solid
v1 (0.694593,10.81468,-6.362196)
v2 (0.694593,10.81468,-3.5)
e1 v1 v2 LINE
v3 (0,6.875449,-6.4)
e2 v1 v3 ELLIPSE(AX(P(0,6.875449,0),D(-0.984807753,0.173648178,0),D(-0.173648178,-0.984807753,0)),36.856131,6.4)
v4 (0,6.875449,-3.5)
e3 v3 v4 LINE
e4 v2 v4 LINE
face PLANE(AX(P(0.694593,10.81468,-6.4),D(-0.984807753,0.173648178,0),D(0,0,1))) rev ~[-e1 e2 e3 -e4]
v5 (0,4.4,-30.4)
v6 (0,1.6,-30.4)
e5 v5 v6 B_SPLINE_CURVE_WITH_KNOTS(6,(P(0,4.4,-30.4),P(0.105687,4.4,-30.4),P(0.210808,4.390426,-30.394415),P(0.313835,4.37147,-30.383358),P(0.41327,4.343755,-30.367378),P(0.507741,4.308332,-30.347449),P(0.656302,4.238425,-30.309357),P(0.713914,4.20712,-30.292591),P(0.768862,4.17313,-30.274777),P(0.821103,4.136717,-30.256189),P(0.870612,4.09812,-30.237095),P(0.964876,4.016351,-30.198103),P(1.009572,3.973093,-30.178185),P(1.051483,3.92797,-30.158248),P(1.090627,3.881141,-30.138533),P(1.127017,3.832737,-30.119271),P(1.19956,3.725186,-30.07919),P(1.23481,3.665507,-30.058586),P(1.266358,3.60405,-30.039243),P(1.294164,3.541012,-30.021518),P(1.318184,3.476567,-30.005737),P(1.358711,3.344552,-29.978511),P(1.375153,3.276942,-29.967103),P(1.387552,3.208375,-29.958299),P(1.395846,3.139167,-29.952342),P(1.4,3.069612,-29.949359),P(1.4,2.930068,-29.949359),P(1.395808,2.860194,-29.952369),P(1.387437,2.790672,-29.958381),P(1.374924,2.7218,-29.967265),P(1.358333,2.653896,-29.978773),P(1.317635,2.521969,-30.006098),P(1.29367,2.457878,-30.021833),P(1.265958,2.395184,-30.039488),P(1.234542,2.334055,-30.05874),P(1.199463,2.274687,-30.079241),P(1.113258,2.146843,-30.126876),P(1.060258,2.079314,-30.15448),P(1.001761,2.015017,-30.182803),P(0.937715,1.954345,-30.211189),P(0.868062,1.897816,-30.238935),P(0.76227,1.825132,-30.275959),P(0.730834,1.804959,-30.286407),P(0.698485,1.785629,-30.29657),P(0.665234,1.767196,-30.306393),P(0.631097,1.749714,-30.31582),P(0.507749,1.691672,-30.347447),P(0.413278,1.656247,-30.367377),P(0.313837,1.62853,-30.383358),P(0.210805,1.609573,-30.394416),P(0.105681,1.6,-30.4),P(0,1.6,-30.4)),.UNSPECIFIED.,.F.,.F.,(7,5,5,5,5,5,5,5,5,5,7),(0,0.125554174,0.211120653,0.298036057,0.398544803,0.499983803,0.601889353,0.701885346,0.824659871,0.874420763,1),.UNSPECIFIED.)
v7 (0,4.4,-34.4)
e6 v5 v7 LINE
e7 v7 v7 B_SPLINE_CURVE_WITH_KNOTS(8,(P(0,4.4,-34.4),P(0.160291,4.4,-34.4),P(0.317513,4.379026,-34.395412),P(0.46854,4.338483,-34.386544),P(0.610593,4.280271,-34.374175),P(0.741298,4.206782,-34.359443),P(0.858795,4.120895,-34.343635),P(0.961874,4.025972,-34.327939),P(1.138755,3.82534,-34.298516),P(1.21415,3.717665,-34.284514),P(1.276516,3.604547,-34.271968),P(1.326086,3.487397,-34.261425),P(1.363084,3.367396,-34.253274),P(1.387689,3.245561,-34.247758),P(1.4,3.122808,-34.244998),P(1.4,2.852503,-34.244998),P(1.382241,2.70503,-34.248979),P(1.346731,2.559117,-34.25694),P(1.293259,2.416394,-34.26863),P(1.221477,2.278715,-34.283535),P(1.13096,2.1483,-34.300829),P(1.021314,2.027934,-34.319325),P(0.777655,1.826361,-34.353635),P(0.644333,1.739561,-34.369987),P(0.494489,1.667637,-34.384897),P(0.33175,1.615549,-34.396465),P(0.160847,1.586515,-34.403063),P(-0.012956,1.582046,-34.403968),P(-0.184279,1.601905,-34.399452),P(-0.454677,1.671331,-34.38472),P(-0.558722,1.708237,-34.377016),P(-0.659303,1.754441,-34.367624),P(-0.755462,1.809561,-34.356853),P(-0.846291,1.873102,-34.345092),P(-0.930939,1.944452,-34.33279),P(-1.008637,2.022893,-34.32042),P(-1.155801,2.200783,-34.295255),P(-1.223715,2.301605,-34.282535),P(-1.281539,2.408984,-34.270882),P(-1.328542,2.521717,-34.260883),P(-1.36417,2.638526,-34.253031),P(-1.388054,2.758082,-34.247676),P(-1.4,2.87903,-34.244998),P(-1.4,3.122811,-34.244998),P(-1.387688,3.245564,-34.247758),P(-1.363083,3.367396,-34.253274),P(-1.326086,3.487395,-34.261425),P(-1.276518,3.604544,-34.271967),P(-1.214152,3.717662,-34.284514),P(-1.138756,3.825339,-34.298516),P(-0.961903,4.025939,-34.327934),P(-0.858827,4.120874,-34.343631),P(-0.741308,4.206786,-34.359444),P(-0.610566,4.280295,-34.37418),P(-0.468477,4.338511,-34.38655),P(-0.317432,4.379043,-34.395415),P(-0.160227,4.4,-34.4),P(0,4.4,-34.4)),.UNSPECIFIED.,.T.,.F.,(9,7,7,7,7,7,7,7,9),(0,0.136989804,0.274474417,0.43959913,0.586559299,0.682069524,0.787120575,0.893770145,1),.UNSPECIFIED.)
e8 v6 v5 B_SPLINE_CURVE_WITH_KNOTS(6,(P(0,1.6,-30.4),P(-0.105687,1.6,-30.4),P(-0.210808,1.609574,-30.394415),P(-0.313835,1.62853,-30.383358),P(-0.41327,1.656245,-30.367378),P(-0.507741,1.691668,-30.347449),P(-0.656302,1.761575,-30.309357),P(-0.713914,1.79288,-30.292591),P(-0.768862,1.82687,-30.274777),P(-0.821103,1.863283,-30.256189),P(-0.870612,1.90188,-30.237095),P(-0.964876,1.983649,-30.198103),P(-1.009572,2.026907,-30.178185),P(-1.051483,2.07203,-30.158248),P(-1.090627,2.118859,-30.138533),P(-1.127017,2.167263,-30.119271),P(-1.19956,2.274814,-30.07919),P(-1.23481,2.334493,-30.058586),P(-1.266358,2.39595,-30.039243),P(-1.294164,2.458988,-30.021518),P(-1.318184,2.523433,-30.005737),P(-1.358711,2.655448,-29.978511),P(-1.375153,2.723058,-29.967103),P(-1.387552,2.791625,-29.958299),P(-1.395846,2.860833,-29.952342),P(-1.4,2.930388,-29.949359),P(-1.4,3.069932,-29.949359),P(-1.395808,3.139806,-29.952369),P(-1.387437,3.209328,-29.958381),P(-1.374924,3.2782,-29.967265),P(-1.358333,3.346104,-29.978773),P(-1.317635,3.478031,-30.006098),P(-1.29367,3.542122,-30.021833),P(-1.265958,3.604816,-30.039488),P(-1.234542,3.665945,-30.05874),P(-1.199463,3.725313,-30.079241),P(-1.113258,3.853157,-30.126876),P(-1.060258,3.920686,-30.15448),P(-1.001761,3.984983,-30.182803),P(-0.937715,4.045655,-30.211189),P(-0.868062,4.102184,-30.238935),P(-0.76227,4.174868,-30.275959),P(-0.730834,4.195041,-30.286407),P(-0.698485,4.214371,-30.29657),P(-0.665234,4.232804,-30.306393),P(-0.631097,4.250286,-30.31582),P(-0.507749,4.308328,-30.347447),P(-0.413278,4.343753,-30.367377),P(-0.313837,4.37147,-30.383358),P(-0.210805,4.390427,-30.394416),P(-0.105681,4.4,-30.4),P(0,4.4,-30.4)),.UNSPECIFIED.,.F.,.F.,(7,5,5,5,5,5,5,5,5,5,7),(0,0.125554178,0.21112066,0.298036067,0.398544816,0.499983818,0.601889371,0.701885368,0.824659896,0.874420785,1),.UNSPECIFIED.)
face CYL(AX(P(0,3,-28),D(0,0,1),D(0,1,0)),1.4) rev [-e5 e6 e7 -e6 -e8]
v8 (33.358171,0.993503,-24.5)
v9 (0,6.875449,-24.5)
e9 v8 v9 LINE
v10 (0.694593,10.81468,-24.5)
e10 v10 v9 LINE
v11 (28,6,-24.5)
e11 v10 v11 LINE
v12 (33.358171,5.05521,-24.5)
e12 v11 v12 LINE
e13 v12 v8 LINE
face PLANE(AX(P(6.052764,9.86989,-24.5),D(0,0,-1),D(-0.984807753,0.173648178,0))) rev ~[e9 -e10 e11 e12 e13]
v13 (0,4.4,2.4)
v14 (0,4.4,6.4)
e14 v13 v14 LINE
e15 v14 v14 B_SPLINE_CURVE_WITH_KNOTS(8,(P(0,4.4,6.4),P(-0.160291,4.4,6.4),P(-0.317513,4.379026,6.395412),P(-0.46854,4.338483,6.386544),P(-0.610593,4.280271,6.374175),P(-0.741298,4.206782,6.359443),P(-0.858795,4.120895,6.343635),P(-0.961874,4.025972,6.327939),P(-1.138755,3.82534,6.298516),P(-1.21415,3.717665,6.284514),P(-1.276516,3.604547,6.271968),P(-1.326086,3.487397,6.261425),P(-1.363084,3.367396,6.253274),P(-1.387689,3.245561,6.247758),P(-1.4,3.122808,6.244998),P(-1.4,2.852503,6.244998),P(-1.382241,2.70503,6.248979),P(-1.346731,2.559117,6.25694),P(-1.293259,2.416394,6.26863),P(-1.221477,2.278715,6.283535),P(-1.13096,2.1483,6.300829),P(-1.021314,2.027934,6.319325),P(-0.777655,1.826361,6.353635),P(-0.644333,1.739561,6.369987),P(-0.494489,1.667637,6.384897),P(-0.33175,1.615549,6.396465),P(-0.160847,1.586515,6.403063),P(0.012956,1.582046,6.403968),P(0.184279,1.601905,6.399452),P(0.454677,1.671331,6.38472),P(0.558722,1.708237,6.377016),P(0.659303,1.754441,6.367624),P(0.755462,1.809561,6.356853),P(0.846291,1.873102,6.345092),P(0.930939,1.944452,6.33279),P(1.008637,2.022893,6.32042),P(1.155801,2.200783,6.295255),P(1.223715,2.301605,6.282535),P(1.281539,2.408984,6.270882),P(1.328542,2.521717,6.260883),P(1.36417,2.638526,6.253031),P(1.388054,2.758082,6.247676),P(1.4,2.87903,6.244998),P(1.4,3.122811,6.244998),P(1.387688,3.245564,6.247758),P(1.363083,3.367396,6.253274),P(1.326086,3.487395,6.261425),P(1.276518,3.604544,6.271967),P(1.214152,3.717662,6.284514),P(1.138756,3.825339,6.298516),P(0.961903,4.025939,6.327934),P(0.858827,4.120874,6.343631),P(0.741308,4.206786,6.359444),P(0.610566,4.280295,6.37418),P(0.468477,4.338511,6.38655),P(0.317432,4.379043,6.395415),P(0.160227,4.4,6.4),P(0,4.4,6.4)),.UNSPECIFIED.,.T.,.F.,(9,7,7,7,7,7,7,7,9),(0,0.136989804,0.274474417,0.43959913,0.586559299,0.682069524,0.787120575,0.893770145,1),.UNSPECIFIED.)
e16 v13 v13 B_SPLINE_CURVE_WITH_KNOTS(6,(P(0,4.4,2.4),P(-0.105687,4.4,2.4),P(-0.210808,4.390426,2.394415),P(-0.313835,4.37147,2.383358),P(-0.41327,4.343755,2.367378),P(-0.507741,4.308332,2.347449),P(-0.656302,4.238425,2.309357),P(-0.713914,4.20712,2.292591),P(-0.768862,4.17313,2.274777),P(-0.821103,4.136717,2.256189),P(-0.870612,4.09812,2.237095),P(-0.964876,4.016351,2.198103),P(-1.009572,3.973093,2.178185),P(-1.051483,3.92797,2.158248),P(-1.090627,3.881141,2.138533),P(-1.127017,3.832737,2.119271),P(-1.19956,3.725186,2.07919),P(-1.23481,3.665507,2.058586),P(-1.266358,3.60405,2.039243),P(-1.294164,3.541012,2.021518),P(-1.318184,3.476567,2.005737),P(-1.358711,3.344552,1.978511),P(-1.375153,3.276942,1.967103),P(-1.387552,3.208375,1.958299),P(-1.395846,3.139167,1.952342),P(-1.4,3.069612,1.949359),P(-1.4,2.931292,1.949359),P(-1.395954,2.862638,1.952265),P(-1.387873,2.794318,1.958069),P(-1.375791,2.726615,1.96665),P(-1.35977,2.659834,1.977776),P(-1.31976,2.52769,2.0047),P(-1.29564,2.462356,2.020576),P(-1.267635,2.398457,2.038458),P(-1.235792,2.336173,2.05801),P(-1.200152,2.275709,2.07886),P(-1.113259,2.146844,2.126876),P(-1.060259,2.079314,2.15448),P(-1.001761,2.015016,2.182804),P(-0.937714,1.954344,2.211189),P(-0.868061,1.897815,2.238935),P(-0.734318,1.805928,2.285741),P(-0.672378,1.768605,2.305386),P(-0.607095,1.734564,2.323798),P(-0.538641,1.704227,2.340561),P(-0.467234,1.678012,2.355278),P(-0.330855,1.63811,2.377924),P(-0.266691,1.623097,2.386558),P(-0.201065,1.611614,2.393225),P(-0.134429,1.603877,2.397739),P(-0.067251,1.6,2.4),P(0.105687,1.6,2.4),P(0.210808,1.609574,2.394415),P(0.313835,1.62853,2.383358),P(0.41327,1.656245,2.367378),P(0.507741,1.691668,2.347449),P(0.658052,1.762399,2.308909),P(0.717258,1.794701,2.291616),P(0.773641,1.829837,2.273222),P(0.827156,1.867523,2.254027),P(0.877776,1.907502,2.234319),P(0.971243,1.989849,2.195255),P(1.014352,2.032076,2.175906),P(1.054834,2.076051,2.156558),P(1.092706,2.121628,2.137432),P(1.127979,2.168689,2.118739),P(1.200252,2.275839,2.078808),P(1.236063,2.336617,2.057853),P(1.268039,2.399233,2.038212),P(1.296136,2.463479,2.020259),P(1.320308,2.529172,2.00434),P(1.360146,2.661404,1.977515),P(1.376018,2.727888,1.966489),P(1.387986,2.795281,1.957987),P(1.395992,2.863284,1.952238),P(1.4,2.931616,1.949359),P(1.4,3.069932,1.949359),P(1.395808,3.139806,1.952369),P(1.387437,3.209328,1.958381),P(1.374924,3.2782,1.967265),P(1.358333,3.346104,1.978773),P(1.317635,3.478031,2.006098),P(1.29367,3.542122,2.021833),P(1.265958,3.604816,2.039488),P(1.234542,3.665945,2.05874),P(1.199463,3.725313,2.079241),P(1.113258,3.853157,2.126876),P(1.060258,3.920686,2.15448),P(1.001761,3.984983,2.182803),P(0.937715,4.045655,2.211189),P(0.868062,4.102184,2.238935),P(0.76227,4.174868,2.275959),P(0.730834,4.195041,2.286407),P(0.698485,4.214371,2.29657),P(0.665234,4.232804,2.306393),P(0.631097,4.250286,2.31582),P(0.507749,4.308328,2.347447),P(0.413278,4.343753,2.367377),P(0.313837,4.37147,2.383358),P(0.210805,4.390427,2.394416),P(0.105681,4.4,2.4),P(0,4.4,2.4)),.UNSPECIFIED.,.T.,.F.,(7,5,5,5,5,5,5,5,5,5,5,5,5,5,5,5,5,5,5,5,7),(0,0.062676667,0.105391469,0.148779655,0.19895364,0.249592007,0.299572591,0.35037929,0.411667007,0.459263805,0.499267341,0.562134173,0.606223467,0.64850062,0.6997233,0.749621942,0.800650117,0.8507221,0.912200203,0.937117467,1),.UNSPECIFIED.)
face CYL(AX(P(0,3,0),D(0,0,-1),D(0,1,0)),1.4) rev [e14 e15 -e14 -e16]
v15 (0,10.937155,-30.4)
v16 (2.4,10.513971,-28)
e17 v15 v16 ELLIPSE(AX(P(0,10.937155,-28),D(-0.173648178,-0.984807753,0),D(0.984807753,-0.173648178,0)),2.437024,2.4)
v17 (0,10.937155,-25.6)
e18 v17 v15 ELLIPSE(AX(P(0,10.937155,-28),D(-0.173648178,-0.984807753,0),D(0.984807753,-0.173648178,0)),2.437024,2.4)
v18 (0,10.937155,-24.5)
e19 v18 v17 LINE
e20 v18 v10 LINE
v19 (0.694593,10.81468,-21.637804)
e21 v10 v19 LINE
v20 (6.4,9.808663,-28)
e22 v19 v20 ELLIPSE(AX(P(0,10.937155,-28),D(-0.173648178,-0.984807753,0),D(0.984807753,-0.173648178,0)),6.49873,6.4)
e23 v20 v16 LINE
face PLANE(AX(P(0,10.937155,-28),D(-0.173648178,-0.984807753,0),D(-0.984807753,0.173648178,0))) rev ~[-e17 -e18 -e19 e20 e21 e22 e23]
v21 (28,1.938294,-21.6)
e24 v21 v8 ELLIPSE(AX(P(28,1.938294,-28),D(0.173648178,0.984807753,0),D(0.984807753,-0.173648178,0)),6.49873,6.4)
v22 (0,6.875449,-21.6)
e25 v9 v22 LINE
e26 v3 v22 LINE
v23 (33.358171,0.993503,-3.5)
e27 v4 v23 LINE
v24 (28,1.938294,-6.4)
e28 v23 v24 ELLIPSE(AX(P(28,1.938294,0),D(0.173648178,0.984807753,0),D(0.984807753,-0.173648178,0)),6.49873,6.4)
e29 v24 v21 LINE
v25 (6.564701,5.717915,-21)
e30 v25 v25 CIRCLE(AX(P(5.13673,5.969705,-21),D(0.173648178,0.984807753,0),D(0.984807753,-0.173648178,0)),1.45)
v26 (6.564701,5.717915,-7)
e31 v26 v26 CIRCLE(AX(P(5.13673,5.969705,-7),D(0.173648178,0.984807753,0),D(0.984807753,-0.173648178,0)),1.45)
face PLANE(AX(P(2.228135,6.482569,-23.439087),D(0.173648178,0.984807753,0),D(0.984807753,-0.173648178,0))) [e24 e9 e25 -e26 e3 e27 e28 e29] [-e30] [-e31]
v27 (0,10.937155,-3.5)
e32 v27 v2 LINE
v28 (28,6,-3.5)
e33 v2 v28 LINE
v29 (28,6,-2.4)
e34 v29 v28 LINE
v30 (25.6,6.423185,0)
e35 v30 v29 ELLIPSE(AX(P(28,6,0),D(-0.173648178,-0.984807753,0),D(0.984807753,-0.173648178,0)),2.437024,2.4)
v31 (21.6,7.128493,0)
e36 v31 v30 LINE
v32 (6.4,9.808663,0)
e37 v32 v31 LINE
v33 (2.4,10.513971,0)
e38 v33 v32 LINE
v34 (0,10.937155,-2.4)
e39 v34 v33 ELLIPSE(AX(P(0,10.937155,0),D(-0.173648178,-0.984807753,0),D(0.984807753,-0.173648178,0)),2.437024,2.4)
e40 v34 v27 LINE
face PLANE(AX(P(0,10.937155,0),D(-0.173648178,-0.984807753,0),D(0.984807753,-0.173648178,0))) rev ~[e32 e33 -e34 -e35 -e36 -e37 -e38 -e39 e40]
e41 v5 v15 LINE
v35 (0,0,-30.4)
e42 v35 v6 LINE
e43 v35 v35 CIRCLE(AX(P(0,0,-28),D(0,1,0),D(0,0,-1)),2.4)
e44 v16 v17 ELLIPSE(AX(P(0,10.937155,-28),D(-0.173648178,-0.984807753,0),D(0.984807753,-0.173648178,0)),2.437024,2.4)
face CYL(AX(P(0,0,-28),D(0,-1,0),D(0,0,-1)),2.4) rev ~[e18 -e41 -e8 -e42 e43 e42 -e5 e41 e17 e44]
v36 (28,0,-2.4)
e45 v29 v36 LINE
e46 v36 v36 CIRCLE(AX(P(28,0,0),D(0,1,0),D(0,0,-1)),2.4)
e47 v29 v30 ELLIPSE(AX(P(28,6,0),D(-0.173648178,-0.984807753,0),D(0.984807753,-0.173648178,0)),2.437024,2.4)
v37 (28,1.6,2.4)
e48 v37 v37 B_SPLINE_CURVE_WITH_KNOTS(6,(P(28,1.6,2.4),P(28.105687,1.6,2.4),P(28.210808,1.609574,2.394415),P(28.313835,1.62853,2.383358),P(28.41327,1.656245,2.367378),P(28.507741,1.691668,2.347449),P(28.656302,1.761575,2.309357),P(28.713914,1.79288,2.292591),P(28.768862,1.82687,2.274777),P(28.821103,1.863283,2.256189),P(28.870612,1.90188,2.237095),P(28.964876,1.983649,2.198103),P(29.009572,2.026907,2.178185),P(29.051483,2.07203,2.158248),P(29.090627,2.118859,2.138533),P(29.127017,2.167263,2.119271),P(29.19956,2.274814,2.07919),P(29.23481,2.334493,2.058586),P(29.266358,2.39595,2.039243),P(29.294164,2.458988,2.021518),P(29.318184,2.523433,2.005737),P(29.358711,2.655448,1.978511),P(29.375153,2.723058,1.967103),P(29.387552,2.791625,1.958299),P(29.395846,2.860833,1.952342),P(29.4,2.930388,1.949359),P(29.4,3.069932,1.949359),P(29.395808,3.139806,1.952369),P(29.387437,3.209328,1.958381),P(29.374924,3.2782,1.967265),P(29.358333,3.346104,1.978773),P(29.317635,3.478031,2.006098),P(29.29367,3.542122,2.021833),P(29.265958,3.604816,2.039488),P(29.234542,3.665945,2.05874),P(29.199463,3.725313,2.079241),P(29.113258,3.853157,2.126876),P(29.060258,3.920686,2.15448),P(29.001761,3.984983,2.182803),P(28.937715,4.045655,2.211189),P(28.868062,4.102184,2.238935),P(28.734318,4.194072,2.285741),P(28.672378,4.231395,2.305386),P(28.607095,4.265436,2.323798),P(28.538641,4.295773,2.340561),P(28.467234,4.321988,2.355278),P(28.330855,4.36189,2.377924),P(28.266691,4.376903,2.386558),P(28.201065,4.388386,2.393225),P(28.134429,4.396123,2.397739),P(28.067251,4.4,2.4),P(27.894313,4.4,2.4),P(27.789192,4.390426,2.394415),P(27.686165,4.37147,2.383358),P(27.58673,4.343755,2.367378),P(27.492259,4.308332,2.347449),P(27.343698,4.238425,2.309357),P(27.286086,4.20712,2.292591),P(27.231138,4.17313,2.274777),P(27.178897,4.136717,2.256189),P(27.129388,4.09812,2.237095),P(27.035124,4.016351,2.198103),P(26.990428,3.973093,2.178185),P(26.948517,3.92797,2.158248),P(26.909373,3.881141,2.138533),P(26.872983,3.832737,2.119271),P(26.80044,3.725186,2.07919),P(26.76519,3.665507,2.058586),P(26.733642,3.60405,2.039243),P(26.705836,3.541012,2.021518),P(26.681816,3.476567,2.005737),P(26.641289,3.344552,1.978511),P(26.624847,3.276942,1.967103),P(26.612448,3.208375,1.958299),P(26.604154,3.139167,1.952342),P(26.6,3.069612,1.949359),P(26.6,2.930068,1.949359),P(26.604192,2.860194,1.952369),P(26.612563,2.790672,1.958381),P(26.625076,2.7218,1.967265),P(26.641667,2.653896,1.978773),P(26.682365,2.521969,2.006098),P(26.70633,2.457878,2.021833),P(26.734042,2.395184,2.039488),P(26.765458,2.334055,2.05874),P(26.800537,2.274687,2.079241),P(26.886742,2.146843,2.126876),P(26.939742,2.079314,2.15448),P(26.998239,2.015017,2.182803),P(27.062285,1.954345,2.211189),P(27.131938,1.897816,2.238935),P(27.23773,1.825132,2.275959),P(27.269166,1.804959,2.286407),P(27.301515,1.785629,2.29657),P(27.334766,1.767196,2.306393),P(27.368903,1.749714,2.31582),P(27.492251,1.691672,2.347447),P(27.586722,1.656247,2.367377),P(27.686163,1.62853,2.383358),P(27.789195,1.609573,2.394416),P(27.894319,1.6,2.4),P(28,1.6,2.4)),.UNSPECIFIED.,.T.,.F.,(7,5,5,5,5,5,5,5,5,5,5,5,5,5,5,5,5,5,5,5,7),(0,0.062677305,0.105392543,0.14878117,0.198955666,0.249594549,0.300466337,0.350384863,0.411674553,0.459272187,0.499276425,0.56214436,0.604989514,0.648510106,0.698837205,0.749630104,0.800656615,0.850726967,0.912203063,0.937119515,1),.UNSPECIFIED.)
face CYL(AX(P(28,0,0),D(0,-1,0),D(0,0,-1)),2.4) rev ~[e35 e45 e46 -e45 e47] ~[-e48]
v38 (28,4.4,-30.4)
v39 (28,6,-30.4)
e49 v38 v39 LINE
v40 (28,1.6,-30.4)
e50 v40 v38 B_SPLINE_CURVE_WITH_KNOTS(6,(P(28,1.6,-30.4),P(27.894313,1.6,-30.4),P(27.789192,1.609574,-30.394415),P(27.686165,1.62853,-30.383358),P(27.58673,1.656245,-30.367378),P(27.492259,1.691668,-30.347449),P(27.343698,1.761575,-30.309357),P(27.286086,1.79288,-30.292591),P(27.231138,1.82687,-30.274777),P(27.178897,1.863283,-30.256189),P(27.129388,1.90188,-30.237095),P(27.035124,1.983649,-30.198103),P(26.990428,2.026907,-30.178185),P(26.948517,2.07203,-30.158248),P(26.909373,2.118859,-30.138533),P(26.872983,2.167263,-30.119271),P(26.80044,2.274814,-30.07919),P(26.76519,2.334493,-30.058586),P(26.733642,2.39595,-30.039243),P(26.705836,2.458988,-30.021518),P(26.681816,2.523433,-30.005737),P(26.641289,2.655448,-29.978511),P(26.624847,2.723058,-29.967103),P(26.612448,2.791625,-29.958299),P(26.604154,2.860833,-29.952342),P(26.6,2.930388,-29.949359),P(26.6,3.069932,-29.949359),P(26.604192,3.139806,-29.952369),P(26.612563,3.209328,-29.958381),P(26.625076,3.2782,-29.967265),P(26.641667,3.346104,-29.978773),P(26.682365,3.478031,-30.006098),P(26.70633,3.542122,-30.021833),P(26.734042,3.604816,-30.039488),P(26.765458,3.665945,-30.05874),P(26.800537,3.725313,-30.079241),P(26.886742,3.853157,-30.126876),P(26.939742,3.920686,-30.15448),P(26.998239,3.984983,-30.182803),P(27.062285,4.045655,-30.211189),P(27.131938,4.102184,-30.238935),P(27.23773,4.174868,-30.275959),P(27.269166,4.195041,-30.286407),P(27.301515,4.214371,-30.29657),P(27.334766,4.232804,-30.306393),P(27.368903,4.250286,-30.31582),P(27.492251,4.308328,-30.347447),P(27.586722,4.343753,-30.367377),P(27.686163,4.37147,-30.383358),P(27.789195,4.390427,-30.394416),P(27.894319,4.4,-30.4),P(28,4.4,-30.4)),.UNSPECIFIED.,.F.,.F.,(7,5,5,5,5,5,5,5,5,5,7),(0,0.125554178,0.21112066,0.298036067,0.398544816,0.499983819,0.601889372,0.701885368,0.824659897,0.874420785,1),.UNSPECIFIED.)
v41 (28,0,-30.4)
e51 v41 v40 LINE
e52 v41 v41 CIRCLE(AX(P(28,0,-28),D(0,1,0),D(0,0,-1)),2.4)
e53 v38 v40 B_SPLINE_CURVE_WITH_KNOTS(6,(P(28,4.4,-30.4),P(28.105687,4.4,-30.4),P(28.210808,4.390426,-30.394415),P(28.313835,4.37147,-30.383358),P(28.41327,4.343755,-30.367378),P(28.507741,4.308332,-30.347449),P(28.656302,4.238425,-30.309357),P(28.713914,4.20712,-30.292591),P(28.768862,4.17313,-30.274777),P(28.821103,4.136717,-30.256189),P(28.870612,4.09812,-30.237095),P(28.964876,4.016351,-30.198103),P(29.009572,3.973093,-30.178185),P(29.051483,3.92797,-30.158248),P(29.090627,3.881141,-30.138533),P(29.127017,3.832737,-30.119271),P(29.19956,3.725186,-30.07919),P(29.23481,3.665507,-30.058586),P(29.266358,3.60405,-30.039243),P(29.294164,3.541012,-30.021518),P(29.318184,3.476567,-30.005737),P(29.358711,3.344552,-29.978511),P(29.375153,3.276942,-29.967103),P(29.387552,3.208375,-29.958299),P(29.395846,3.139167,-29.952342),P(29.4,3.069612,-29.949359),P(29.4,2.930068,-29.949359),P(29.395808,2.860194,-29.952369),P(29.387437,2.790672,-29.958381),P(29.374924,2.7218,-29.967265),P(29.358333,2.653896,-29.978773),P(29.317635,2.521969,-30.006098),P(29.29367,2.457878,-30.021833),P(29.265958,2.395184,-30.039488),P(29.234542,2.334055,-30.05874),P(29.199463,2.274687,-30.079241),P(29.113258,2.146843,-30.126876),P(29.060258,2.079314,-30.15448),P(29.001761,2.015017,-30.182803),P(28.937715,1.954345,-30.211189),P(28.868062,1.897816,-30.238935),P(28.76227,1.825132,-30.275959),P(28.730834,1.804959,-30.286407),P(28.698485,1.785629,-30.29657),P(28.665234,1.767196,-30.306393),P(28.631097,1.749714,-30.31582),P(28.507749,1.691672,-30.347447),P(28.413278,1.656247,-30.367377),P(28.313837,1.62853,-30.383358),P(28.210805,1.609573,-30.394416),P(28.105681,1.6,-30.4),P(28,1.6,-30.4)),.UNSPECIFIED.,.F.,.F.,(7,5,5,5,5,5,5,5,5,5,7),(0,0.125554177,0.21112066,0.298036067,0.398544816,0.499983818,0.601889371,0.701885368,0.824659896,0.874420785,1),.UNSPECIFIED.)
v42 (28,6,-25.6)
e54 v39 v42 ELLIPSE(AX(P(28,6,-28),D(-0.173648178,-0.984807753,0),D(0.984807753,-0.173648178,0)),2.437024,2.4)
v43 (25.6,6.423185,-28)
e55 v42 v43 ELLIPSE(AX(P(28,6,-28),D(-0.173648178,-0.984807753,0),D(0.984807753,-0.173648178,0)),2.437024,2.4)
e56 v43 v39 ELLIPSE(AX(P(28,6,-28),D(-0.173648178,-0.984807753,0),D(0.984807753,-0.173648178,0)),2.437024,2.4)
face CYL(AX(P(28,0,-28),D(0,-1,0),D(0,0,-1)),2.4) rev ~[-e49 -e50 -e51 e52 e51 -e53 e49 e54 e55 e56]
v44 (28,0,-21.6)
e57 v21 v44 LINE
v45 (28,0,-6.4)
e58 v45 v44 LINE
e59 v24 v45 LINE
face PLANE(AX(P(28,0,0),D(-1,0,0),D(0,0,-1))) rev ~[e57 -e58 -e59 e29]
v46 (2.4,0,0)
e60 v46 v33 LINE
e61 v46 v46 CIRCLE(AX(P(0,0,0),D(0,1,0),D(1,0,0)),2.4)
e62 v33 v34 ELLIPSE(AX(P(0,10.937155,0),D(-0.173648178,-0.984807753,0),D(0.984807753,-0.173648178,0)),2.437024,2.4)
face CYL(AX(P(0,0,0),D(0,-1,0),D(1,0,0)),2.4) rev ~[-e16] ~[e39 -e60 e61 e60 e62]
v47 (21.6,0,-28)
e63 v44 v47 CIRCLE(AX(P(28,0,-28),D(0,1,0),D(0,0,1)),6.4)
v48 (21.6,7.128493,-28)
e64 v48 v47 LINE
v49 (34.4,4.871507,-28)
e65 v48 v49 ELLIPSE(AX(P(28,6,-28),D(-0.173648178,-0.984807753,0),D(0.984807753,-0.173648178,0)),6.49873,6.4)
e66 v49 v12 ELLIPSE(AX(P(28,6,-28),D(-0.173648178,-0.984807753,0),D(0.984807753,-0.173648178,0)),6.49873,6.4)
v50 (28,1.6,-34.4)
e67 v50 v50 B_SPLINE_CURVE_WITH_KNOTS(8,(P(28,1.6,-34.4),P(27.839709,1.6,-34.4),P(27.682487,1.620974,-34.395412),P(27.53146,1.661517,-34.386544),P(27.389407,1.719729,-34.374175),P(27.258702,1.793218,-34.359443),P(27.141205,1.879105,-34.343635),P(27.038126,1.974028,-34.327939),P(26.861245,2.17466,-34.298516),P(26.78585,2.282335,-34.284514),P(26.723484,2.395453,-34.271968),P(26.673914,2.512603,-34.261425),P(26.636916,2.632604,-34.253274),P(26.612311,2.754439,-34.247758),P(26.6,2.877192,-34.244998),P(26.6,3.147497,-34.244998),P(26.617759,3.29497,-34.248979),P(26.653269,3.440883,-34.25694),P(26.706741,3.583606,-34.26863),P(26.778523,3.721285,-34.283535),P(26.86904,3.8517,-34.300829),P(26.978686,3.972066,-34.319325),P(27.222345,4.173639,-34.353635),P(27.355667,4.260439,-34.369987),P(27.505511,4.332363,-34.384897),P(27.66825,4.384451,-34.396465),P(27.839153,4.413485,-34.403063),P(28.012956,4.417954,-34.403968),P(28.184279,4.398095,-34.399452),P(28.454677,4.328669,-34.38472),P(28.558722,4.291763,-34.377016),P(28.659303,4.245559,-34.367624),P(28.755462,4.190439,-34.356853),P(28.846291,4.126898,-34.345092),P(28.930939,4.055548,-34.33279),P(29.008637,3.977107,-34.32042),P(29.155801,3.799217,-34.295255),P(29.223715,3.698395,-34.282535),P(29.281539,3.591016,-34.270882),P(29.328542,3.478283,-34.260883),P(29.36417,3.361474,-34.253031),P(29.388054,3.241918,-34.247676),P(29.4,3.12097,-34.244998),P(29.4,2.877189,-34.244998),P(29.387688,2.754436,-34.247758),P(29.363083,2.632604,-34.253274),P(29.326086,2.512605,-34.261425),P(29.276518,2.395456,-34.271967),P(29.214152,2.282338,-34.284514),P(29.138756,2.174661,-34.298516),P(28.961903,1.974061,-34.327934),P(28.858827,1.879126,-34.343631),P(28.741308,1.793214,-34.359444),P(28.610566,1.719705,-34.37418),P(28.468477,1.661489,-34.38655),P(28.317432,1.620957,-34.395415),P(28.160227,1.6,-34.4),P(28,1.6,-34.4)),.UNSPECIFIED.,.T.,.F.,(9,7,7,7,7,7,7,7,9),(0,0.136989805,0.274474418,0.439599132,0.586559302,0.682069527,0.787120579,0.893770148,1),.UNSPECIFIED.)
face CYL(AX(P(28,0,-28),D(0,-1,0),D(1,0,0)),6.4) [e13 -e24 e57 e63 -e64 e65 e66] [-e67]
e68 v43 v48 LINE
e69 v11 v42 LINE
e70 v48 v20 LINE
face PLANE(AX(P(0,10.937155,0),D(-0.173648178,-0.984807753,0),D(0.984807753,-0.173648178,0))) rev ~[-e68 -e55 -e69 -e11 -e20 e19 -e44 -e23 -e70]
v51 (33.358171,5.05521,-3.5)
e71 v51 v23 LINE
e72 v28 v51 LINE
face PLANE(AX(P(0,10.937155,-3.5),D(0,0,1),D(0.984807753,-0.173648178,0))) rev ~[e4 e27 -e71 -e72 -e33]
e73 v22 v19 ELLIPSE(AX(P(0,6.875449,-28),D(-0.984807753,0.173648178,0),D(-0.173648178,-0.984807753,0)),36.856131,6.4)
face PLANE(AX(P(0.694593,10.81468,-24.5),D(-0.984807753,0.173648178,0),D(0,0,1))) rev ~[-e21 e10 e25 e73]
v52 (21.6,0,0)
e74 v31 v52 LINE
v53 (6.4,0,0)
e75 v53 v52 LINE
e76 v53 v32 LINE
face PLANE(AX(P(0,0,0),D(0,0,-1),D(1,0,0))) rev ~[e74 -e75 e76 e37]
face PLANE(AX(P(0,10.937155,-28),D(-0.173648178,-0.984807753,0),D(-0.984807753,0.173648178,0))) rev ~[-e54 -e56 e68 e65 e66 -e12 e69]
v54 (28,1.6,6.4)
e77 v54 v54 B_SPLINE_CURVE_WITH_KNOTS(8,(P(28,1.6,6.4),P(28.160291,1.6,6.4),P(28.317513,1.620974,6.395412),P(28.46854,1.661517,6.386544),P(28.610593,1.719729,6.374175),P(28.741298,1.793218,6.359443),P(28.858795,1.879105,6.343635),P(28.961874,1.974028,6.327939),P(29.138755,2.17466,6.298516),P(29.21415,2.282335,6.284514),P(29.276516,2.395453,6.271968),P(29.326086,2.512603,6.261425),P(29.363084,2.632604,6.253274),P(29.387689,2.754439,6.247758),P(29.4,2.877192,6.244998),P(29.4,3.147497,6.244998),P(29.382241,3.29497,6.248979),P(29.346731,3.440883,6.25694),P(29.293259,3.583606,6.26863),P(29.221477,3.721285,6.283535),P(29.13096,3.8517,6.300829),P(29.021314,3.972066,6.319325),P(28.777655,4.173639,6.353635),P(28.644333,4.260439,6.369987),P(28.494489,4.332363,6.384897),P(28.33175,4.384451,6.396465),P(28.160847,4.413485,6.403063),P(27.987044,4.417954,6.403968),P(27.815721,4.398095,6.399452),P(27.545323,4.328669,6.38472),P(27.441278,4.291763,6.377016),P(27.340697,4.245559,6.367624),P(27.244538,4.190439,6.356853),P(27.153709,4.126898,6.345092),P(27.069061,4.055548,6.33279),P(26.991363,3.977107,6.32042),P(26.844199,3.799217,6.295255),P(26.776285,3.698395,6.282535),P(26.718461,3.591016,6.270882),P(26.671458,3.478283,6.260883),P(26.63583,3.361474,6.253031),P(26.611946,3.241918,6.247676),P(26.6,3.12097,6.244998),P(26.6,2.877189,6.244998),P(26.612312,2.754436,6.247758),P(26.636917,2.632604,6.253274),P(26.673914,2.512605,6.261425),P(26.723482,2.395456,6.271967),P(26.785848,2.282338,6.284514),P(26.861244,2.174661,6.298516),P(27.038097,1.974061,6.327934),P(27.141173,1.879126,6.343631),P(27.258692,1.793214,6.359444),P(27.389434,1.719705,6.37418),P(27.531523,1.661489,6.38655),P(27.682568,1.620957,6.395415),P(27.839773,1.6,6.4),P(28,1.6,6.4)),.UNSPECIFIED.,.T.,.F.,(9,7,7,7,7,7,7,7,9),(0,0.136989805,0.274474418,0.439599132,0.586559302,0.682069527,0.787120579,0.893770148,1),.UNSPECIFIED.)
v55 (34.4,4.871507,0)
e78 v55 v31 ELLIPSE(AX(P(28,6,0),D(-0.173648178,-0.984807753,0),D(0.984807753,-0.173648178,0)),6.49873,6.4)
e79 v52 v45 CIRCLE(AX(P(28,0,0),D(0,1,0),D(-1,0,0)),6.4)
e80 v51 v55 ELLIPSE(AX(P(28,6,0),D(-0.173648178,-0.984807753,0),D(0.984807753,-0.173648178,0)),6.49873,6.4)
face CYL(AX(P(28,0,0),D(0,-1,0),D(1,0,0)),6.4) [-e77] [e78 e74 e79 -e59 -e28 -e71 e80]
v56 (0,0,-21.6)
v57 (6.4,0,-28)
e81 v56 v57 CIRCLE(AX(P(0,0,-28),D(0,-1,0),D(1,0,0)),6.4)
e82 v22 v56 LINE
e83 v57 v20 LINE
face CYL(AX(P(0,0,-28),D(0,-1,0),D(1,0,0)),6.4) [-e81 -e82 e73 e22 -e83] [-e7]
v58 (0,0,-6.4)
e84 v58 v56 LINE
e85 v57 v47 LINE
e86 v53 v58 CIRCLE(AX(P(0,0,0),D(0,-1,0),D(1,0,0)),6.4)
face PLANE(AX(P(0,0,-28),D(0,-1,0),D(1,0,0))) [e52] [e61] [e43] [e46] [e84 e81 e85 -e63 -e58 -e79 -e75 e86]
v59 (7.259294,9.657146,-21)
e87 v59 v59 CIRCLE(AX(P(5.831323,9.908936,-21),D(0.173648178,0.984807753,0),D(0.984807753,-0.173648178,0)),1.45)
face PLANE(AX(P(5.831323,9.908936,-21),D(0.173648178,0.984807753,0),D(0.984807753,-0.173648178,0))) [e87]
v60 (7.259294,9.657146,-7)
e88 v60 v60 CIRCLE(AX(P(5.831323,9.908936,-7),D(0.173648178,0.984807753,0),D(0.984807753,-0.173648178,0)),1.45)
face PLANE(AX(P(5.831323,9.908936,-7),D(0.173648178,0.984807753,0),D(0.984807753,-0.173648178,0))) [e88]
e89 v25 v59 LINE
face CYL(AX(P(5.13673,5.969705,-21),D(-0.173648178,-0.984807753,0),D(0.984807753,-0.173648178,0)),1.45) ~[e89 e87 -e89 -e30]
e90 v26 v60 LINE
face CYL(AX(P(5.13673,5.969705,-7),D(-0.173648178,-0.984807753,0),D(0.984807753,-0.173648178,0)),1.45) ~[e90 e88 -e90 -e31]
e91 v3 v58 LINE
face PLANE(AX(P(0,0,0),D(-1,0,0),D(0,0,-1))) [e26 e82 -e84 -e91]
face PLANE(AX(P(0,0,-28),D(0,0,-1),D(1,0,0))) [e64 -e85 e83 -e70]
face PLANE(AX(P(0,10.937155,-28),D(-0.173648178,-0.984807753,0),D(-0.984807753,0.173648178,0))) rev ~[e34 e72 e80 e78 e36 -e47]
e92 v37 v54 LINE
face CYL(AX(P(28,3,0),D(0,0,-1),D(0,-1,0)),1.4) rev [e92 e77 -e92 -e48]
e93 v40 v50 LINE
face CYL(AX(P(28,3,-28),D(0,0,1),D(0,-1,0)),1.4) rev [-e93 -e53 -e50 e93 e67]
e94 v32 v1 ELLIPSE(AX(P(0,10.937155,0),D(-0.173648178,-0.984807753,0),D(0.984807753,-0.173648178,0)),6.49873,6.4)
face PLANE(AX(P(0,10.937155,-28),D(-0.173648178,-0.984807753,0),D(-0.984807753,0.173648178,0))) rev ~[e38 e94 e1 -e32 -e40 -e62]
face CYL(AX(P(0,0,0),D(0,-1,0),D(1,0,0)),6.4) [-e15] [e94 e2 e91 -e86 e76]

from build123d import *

# Parameters (mm, degrees)
SKETCH1_W           = 28
SKETCH1_H           = 28
BOSS_EXTRUDE1_DEPTH = 10.93715546
CUT_EXTRUDE1_DEPTH  = 42.080669049
SKETCH3_W           = 50
SKETCH3_H           = 21
CUT_EXTRUDE2_DEPTH  = 4
SKETCH11_R          = 1.45
BOSS_EXTRUDE2_DEPTH = 4
SKETCH13_R          = 2.4
CUT_EXTRUDE5_DEPTH  = 42.080669049
BOSS_EXTRUDE3_REACH = 43.081
SKETCH14_R          = 6.4
SKETCH14_R_2        = 2.4
SKETCH15_R          = 1.4
CUT_EXTRUDE6_DEPTH  = 51.122847734
SKETCH16_R          = 1.4
CUT_EXTRUDE7_DEPTH  = 51.122847895
SKETCH18_W          = 30
SKETCH18_H          = 21
CUT_EXTRUDE8_DEPTH  = 4


with BuildPart() as part:
    # Sketch1 → Boss-Extrude1 (new body)
    with BuildSketch(Plane(origin=(0, 0, 0), x_dir=(1, 0, 0), z_dir=(0, 1, 0))):
        with Locations((14, 14)):
            Rectangle(SKETCH1_W, SKETCH1_H)
    extrude(amount=BOSS_EXTRUDE1_DEPTH)

    # Sketch2 → Cut-Extrude1 (cut, through all)
    with BuildSketch(Plane.XY):
        Polygon((0, 10.93715546), (28, 6), (28, 10.93715546), align=None)
    extrude(amount=-CUT_EXTRUDE1_DEPTH, mode=Mode.SUBTRACT)

    # Sketch3 → Cut-Extrude2 (cut)
    with BuildSketch(Plane(origin=(1.870363739, 10.607359869, 0), x_dir=(0.9848077530122081, -0.1736481776669303, 0), z_dir=(0.1736481776669303, 0.9848077530122081, 0))):
        with Locations((23.100782886, 14)):
            Rectangle(SKETCH3_W, SKETCH3_H)
    extrude(amount=-CUT_EXTRUDE2_DEPTH, mode=Mode.SUBTRACT)

    # Sketch11 → Boss-Extrude2 (add)
    with BuildSketch(Plane(origin=(1.175771028, 6.668128857, 0), x_dir=(0.9848077530122081, -0.1736481776669303, 0), z_dir=(0.17364817766693028, 0.984807753012208, 0))):
        with Locations((4.022063375, 21)):
            Circle(SKETCH11_R)
        with Locations((4.022063375, 7)):
            Circle(SKETCH11_R)
    extrude(amount=BOSS_EXTRUDE2_DEPTH)

    # Sketch13 → Cut-Extrude5 (cut, through all)
    with BuildSketch(Plane.XZ):
        Circle(SKETCH13_R)
        with Locations((28, 0)):
            Circle(SKETCH13_R)
        with Locations((28, -28)):
            Circle(SKETCH13_R)
        with Locations((0, -28)):
            Circle(SKETCH13_R)
    extrude(amount=-CUT_EXTRUDE5_DEPTH, mode=Mode.SUBTRACT)

    # Boss-Extrude3: up to this plane
    boss_extrude3_end = Plane(origin=(0, 10.93715546, -28), z_dir=(-0.17364817766693036, -0.9848077530122081, 0))
    # Sketch14 → Boss-Extrude3 (add, up to the surface)
    with BuildSketch(Plane.XZ, mode=Mode.PRIVATE) as boss_extrude3_sk1:
        Circle(SKETCH14_R)
        with Locations(Location((0, 0, 0), (0, 0, 270))):
            Circle(SKETCH14_R_2, mode=Mode.SUBTRACT)
    boss_extrude3_tool1 = split(extrude(boss_extrude3_sk1.sketch, amount=-BOSS_EXTRUDE3_REACH, mode=Mode.PRIVATE), bisect_by=boss_extrude3_end, keep=Keep.BOTH, mode=Mode.PRIVATE)
    add(boss_extrude3_tool1.solids().sort_by_distance((-6.218981, 0, 0))[0])
    # Sketch14 → Boss-Extrude3 (add, up to the surface)
    with BuildSketch(Plane.XZ, mode=Mode.PRIVATE) as boss_extrude3_sk2:
        with Locations((28, 0)):
            Circle(SKETCH14_R)
        with Locations(Location((28, 0, 0), (0, 0, 270))):
            Circle(SKETCH14_R_2, mode=Mode.SUBTRACT)
    boss_extrude3_tool2 = split(extrude(boss_extrude3_sk2.sketch, amount=-BOSS_EXTRUDE3_REACH, mode=Mode.PRIVATE), bisect_by=boss_extrude3_end, keep=Keep.BOTH, mode=Mode.PRIVATE)
    add(boss_extrude3_tool2.solids().sort_by_distance((21.781019, 0, 0))[0])
    # Sketch14 → Boss-Extrude3 (add, up to the surface)
    with BuildSketch(Plane.XZ, mode=Mode.PRIVATE) as boss_extrude3_sk3:
        with Locations((28, -28)):
            Circle(SKETCH14_R)
        with Locations(Location((28, -28, 0), (0, 0, 270))):
            Circle(SKETCH14_R_2, mode=Mode.SUBTRACT)
    boss_extrude3_tool3 = split(extrude(boss_extrude3_sk3.sketch, amount=-BOSS_EXTRUDE3_REACH, mode=Mode.PRIVATE), bisect_by=boss_extrude3_end, keep=Keep.BOTH, mode=Mode.PRIVATE)
    add(boss_extrude3_tool3.solids().sort_by_distance((21.781019, 0, -28))[0])
    # Sketch14 → Boss-Extrude3 (add, up to the surface)
    with BuildSketch(Plane.XZ, mode=Mode.PRIVATE) as boss_extrude3_sk4:
        with Locations((0, -28)):
            Circle(SKETCH14_R)
        with Locations(Location((0, -28, 0), (0, 0, 270))):
            Circle(SKETCH14_R_2, mode=Mode.SUBTRACT)
    boss_extrude3_tool4 = split(extrude(boss_extrude3_sk4.sketch, amount=-BOSS_EXTRUDE3_REACH, mode=Mode.PRIVATE), bisect_by=boss_extrude3_end, keep=Keep.BOTH, mode=Mode.PRIVATE)
    add(boss_extrude3_tool4.solids().sort_by_distance((-6.218981, 0, -28))[0])

    # Sketch15 → Cut-Extrude6 (cut, through all)
    with BuildSketch(Plane(origin=(0, 0, -28), x_dir=(-1, 0, 0), z_dir=(0, 0, -1))):
        with Locations(Location((-28, 3, 0), (0, 0, 270))):
            Circle(SKETCH15_R)
        with Locations(Location((0, 3, 0), (0, 0, 90))):
            Circle(SKETCH15_R)
    extrude(amount=CUT_EXTRUDE6_DEPTH, mode=Mode.SUBTRACT)

    # Sketch16 → Cut-Extrude7 (cut, through all)
    with BuildSketch(Plane.XY):
        with Locations(Location((0, 3, 0), (0, 0, 90))):
            Circle(SKETCH16_R)
        with Locations(Location((28, 3, 0), (0, 0, 270))):
            Circle(SKETCH16_R)
    extrude(amount=CUT_EXTRUDE7_DEPTH, mode=Mode.SUBTRACT)

    # Sketch18 → Cut-Extrude8 (cut)
    with BuildSketch(Plane(origin=(1.870363739, 10.607359869, 0), x_dir=(0.9848077530122081, -0.1736481776669303, 0), z_dir=(0.1736481776669303, 0.9848077530122081, 0))):
        with BuildLine():
            Line((4.246920568, 24.5), (-1.193909192, 24.5))
            Line((-1.193909192, 24.5), (-1.193909192, 21.6))
            add(Edge.make_bspline(
                [(-1.193909192, 21.6), (2.323394895, 21.6), (4.246920568, 24.5)],
                knots=[4.71238898, 4.71238898, 4.71238898, 5.704558256, 5.704558256, 5.704558256], degree=2, weights=[1, 0.879452955, 1]))
        make_face()
        with Locations((21.091898259, 14)):
            Rectangle(SKETCH18_W, SKETCH18_H)
        with BuildLine():
            Line((-1.193909192, 6.4), (-1.193909192, 3.5))
            Line((-1.193909192, 3.5), (4.246920568, 3.5))
            add(Edge.make_bspline(
                [(4.246920568, 3.5), (2.323394895, 6.4), (-1.193909192, 6.4)],
                knots=[0.578627051, 0.578627051, 0.578627051, 1.570796327, 1.570796327, 1.570796327], degree=2, weights=[1, 0.879452955, 1]))
        make_face()
    extrude(amount=-CUT_EXTRUDE8_DEPTH, mode=Mode.SUBTRACT)


solid = part.part
